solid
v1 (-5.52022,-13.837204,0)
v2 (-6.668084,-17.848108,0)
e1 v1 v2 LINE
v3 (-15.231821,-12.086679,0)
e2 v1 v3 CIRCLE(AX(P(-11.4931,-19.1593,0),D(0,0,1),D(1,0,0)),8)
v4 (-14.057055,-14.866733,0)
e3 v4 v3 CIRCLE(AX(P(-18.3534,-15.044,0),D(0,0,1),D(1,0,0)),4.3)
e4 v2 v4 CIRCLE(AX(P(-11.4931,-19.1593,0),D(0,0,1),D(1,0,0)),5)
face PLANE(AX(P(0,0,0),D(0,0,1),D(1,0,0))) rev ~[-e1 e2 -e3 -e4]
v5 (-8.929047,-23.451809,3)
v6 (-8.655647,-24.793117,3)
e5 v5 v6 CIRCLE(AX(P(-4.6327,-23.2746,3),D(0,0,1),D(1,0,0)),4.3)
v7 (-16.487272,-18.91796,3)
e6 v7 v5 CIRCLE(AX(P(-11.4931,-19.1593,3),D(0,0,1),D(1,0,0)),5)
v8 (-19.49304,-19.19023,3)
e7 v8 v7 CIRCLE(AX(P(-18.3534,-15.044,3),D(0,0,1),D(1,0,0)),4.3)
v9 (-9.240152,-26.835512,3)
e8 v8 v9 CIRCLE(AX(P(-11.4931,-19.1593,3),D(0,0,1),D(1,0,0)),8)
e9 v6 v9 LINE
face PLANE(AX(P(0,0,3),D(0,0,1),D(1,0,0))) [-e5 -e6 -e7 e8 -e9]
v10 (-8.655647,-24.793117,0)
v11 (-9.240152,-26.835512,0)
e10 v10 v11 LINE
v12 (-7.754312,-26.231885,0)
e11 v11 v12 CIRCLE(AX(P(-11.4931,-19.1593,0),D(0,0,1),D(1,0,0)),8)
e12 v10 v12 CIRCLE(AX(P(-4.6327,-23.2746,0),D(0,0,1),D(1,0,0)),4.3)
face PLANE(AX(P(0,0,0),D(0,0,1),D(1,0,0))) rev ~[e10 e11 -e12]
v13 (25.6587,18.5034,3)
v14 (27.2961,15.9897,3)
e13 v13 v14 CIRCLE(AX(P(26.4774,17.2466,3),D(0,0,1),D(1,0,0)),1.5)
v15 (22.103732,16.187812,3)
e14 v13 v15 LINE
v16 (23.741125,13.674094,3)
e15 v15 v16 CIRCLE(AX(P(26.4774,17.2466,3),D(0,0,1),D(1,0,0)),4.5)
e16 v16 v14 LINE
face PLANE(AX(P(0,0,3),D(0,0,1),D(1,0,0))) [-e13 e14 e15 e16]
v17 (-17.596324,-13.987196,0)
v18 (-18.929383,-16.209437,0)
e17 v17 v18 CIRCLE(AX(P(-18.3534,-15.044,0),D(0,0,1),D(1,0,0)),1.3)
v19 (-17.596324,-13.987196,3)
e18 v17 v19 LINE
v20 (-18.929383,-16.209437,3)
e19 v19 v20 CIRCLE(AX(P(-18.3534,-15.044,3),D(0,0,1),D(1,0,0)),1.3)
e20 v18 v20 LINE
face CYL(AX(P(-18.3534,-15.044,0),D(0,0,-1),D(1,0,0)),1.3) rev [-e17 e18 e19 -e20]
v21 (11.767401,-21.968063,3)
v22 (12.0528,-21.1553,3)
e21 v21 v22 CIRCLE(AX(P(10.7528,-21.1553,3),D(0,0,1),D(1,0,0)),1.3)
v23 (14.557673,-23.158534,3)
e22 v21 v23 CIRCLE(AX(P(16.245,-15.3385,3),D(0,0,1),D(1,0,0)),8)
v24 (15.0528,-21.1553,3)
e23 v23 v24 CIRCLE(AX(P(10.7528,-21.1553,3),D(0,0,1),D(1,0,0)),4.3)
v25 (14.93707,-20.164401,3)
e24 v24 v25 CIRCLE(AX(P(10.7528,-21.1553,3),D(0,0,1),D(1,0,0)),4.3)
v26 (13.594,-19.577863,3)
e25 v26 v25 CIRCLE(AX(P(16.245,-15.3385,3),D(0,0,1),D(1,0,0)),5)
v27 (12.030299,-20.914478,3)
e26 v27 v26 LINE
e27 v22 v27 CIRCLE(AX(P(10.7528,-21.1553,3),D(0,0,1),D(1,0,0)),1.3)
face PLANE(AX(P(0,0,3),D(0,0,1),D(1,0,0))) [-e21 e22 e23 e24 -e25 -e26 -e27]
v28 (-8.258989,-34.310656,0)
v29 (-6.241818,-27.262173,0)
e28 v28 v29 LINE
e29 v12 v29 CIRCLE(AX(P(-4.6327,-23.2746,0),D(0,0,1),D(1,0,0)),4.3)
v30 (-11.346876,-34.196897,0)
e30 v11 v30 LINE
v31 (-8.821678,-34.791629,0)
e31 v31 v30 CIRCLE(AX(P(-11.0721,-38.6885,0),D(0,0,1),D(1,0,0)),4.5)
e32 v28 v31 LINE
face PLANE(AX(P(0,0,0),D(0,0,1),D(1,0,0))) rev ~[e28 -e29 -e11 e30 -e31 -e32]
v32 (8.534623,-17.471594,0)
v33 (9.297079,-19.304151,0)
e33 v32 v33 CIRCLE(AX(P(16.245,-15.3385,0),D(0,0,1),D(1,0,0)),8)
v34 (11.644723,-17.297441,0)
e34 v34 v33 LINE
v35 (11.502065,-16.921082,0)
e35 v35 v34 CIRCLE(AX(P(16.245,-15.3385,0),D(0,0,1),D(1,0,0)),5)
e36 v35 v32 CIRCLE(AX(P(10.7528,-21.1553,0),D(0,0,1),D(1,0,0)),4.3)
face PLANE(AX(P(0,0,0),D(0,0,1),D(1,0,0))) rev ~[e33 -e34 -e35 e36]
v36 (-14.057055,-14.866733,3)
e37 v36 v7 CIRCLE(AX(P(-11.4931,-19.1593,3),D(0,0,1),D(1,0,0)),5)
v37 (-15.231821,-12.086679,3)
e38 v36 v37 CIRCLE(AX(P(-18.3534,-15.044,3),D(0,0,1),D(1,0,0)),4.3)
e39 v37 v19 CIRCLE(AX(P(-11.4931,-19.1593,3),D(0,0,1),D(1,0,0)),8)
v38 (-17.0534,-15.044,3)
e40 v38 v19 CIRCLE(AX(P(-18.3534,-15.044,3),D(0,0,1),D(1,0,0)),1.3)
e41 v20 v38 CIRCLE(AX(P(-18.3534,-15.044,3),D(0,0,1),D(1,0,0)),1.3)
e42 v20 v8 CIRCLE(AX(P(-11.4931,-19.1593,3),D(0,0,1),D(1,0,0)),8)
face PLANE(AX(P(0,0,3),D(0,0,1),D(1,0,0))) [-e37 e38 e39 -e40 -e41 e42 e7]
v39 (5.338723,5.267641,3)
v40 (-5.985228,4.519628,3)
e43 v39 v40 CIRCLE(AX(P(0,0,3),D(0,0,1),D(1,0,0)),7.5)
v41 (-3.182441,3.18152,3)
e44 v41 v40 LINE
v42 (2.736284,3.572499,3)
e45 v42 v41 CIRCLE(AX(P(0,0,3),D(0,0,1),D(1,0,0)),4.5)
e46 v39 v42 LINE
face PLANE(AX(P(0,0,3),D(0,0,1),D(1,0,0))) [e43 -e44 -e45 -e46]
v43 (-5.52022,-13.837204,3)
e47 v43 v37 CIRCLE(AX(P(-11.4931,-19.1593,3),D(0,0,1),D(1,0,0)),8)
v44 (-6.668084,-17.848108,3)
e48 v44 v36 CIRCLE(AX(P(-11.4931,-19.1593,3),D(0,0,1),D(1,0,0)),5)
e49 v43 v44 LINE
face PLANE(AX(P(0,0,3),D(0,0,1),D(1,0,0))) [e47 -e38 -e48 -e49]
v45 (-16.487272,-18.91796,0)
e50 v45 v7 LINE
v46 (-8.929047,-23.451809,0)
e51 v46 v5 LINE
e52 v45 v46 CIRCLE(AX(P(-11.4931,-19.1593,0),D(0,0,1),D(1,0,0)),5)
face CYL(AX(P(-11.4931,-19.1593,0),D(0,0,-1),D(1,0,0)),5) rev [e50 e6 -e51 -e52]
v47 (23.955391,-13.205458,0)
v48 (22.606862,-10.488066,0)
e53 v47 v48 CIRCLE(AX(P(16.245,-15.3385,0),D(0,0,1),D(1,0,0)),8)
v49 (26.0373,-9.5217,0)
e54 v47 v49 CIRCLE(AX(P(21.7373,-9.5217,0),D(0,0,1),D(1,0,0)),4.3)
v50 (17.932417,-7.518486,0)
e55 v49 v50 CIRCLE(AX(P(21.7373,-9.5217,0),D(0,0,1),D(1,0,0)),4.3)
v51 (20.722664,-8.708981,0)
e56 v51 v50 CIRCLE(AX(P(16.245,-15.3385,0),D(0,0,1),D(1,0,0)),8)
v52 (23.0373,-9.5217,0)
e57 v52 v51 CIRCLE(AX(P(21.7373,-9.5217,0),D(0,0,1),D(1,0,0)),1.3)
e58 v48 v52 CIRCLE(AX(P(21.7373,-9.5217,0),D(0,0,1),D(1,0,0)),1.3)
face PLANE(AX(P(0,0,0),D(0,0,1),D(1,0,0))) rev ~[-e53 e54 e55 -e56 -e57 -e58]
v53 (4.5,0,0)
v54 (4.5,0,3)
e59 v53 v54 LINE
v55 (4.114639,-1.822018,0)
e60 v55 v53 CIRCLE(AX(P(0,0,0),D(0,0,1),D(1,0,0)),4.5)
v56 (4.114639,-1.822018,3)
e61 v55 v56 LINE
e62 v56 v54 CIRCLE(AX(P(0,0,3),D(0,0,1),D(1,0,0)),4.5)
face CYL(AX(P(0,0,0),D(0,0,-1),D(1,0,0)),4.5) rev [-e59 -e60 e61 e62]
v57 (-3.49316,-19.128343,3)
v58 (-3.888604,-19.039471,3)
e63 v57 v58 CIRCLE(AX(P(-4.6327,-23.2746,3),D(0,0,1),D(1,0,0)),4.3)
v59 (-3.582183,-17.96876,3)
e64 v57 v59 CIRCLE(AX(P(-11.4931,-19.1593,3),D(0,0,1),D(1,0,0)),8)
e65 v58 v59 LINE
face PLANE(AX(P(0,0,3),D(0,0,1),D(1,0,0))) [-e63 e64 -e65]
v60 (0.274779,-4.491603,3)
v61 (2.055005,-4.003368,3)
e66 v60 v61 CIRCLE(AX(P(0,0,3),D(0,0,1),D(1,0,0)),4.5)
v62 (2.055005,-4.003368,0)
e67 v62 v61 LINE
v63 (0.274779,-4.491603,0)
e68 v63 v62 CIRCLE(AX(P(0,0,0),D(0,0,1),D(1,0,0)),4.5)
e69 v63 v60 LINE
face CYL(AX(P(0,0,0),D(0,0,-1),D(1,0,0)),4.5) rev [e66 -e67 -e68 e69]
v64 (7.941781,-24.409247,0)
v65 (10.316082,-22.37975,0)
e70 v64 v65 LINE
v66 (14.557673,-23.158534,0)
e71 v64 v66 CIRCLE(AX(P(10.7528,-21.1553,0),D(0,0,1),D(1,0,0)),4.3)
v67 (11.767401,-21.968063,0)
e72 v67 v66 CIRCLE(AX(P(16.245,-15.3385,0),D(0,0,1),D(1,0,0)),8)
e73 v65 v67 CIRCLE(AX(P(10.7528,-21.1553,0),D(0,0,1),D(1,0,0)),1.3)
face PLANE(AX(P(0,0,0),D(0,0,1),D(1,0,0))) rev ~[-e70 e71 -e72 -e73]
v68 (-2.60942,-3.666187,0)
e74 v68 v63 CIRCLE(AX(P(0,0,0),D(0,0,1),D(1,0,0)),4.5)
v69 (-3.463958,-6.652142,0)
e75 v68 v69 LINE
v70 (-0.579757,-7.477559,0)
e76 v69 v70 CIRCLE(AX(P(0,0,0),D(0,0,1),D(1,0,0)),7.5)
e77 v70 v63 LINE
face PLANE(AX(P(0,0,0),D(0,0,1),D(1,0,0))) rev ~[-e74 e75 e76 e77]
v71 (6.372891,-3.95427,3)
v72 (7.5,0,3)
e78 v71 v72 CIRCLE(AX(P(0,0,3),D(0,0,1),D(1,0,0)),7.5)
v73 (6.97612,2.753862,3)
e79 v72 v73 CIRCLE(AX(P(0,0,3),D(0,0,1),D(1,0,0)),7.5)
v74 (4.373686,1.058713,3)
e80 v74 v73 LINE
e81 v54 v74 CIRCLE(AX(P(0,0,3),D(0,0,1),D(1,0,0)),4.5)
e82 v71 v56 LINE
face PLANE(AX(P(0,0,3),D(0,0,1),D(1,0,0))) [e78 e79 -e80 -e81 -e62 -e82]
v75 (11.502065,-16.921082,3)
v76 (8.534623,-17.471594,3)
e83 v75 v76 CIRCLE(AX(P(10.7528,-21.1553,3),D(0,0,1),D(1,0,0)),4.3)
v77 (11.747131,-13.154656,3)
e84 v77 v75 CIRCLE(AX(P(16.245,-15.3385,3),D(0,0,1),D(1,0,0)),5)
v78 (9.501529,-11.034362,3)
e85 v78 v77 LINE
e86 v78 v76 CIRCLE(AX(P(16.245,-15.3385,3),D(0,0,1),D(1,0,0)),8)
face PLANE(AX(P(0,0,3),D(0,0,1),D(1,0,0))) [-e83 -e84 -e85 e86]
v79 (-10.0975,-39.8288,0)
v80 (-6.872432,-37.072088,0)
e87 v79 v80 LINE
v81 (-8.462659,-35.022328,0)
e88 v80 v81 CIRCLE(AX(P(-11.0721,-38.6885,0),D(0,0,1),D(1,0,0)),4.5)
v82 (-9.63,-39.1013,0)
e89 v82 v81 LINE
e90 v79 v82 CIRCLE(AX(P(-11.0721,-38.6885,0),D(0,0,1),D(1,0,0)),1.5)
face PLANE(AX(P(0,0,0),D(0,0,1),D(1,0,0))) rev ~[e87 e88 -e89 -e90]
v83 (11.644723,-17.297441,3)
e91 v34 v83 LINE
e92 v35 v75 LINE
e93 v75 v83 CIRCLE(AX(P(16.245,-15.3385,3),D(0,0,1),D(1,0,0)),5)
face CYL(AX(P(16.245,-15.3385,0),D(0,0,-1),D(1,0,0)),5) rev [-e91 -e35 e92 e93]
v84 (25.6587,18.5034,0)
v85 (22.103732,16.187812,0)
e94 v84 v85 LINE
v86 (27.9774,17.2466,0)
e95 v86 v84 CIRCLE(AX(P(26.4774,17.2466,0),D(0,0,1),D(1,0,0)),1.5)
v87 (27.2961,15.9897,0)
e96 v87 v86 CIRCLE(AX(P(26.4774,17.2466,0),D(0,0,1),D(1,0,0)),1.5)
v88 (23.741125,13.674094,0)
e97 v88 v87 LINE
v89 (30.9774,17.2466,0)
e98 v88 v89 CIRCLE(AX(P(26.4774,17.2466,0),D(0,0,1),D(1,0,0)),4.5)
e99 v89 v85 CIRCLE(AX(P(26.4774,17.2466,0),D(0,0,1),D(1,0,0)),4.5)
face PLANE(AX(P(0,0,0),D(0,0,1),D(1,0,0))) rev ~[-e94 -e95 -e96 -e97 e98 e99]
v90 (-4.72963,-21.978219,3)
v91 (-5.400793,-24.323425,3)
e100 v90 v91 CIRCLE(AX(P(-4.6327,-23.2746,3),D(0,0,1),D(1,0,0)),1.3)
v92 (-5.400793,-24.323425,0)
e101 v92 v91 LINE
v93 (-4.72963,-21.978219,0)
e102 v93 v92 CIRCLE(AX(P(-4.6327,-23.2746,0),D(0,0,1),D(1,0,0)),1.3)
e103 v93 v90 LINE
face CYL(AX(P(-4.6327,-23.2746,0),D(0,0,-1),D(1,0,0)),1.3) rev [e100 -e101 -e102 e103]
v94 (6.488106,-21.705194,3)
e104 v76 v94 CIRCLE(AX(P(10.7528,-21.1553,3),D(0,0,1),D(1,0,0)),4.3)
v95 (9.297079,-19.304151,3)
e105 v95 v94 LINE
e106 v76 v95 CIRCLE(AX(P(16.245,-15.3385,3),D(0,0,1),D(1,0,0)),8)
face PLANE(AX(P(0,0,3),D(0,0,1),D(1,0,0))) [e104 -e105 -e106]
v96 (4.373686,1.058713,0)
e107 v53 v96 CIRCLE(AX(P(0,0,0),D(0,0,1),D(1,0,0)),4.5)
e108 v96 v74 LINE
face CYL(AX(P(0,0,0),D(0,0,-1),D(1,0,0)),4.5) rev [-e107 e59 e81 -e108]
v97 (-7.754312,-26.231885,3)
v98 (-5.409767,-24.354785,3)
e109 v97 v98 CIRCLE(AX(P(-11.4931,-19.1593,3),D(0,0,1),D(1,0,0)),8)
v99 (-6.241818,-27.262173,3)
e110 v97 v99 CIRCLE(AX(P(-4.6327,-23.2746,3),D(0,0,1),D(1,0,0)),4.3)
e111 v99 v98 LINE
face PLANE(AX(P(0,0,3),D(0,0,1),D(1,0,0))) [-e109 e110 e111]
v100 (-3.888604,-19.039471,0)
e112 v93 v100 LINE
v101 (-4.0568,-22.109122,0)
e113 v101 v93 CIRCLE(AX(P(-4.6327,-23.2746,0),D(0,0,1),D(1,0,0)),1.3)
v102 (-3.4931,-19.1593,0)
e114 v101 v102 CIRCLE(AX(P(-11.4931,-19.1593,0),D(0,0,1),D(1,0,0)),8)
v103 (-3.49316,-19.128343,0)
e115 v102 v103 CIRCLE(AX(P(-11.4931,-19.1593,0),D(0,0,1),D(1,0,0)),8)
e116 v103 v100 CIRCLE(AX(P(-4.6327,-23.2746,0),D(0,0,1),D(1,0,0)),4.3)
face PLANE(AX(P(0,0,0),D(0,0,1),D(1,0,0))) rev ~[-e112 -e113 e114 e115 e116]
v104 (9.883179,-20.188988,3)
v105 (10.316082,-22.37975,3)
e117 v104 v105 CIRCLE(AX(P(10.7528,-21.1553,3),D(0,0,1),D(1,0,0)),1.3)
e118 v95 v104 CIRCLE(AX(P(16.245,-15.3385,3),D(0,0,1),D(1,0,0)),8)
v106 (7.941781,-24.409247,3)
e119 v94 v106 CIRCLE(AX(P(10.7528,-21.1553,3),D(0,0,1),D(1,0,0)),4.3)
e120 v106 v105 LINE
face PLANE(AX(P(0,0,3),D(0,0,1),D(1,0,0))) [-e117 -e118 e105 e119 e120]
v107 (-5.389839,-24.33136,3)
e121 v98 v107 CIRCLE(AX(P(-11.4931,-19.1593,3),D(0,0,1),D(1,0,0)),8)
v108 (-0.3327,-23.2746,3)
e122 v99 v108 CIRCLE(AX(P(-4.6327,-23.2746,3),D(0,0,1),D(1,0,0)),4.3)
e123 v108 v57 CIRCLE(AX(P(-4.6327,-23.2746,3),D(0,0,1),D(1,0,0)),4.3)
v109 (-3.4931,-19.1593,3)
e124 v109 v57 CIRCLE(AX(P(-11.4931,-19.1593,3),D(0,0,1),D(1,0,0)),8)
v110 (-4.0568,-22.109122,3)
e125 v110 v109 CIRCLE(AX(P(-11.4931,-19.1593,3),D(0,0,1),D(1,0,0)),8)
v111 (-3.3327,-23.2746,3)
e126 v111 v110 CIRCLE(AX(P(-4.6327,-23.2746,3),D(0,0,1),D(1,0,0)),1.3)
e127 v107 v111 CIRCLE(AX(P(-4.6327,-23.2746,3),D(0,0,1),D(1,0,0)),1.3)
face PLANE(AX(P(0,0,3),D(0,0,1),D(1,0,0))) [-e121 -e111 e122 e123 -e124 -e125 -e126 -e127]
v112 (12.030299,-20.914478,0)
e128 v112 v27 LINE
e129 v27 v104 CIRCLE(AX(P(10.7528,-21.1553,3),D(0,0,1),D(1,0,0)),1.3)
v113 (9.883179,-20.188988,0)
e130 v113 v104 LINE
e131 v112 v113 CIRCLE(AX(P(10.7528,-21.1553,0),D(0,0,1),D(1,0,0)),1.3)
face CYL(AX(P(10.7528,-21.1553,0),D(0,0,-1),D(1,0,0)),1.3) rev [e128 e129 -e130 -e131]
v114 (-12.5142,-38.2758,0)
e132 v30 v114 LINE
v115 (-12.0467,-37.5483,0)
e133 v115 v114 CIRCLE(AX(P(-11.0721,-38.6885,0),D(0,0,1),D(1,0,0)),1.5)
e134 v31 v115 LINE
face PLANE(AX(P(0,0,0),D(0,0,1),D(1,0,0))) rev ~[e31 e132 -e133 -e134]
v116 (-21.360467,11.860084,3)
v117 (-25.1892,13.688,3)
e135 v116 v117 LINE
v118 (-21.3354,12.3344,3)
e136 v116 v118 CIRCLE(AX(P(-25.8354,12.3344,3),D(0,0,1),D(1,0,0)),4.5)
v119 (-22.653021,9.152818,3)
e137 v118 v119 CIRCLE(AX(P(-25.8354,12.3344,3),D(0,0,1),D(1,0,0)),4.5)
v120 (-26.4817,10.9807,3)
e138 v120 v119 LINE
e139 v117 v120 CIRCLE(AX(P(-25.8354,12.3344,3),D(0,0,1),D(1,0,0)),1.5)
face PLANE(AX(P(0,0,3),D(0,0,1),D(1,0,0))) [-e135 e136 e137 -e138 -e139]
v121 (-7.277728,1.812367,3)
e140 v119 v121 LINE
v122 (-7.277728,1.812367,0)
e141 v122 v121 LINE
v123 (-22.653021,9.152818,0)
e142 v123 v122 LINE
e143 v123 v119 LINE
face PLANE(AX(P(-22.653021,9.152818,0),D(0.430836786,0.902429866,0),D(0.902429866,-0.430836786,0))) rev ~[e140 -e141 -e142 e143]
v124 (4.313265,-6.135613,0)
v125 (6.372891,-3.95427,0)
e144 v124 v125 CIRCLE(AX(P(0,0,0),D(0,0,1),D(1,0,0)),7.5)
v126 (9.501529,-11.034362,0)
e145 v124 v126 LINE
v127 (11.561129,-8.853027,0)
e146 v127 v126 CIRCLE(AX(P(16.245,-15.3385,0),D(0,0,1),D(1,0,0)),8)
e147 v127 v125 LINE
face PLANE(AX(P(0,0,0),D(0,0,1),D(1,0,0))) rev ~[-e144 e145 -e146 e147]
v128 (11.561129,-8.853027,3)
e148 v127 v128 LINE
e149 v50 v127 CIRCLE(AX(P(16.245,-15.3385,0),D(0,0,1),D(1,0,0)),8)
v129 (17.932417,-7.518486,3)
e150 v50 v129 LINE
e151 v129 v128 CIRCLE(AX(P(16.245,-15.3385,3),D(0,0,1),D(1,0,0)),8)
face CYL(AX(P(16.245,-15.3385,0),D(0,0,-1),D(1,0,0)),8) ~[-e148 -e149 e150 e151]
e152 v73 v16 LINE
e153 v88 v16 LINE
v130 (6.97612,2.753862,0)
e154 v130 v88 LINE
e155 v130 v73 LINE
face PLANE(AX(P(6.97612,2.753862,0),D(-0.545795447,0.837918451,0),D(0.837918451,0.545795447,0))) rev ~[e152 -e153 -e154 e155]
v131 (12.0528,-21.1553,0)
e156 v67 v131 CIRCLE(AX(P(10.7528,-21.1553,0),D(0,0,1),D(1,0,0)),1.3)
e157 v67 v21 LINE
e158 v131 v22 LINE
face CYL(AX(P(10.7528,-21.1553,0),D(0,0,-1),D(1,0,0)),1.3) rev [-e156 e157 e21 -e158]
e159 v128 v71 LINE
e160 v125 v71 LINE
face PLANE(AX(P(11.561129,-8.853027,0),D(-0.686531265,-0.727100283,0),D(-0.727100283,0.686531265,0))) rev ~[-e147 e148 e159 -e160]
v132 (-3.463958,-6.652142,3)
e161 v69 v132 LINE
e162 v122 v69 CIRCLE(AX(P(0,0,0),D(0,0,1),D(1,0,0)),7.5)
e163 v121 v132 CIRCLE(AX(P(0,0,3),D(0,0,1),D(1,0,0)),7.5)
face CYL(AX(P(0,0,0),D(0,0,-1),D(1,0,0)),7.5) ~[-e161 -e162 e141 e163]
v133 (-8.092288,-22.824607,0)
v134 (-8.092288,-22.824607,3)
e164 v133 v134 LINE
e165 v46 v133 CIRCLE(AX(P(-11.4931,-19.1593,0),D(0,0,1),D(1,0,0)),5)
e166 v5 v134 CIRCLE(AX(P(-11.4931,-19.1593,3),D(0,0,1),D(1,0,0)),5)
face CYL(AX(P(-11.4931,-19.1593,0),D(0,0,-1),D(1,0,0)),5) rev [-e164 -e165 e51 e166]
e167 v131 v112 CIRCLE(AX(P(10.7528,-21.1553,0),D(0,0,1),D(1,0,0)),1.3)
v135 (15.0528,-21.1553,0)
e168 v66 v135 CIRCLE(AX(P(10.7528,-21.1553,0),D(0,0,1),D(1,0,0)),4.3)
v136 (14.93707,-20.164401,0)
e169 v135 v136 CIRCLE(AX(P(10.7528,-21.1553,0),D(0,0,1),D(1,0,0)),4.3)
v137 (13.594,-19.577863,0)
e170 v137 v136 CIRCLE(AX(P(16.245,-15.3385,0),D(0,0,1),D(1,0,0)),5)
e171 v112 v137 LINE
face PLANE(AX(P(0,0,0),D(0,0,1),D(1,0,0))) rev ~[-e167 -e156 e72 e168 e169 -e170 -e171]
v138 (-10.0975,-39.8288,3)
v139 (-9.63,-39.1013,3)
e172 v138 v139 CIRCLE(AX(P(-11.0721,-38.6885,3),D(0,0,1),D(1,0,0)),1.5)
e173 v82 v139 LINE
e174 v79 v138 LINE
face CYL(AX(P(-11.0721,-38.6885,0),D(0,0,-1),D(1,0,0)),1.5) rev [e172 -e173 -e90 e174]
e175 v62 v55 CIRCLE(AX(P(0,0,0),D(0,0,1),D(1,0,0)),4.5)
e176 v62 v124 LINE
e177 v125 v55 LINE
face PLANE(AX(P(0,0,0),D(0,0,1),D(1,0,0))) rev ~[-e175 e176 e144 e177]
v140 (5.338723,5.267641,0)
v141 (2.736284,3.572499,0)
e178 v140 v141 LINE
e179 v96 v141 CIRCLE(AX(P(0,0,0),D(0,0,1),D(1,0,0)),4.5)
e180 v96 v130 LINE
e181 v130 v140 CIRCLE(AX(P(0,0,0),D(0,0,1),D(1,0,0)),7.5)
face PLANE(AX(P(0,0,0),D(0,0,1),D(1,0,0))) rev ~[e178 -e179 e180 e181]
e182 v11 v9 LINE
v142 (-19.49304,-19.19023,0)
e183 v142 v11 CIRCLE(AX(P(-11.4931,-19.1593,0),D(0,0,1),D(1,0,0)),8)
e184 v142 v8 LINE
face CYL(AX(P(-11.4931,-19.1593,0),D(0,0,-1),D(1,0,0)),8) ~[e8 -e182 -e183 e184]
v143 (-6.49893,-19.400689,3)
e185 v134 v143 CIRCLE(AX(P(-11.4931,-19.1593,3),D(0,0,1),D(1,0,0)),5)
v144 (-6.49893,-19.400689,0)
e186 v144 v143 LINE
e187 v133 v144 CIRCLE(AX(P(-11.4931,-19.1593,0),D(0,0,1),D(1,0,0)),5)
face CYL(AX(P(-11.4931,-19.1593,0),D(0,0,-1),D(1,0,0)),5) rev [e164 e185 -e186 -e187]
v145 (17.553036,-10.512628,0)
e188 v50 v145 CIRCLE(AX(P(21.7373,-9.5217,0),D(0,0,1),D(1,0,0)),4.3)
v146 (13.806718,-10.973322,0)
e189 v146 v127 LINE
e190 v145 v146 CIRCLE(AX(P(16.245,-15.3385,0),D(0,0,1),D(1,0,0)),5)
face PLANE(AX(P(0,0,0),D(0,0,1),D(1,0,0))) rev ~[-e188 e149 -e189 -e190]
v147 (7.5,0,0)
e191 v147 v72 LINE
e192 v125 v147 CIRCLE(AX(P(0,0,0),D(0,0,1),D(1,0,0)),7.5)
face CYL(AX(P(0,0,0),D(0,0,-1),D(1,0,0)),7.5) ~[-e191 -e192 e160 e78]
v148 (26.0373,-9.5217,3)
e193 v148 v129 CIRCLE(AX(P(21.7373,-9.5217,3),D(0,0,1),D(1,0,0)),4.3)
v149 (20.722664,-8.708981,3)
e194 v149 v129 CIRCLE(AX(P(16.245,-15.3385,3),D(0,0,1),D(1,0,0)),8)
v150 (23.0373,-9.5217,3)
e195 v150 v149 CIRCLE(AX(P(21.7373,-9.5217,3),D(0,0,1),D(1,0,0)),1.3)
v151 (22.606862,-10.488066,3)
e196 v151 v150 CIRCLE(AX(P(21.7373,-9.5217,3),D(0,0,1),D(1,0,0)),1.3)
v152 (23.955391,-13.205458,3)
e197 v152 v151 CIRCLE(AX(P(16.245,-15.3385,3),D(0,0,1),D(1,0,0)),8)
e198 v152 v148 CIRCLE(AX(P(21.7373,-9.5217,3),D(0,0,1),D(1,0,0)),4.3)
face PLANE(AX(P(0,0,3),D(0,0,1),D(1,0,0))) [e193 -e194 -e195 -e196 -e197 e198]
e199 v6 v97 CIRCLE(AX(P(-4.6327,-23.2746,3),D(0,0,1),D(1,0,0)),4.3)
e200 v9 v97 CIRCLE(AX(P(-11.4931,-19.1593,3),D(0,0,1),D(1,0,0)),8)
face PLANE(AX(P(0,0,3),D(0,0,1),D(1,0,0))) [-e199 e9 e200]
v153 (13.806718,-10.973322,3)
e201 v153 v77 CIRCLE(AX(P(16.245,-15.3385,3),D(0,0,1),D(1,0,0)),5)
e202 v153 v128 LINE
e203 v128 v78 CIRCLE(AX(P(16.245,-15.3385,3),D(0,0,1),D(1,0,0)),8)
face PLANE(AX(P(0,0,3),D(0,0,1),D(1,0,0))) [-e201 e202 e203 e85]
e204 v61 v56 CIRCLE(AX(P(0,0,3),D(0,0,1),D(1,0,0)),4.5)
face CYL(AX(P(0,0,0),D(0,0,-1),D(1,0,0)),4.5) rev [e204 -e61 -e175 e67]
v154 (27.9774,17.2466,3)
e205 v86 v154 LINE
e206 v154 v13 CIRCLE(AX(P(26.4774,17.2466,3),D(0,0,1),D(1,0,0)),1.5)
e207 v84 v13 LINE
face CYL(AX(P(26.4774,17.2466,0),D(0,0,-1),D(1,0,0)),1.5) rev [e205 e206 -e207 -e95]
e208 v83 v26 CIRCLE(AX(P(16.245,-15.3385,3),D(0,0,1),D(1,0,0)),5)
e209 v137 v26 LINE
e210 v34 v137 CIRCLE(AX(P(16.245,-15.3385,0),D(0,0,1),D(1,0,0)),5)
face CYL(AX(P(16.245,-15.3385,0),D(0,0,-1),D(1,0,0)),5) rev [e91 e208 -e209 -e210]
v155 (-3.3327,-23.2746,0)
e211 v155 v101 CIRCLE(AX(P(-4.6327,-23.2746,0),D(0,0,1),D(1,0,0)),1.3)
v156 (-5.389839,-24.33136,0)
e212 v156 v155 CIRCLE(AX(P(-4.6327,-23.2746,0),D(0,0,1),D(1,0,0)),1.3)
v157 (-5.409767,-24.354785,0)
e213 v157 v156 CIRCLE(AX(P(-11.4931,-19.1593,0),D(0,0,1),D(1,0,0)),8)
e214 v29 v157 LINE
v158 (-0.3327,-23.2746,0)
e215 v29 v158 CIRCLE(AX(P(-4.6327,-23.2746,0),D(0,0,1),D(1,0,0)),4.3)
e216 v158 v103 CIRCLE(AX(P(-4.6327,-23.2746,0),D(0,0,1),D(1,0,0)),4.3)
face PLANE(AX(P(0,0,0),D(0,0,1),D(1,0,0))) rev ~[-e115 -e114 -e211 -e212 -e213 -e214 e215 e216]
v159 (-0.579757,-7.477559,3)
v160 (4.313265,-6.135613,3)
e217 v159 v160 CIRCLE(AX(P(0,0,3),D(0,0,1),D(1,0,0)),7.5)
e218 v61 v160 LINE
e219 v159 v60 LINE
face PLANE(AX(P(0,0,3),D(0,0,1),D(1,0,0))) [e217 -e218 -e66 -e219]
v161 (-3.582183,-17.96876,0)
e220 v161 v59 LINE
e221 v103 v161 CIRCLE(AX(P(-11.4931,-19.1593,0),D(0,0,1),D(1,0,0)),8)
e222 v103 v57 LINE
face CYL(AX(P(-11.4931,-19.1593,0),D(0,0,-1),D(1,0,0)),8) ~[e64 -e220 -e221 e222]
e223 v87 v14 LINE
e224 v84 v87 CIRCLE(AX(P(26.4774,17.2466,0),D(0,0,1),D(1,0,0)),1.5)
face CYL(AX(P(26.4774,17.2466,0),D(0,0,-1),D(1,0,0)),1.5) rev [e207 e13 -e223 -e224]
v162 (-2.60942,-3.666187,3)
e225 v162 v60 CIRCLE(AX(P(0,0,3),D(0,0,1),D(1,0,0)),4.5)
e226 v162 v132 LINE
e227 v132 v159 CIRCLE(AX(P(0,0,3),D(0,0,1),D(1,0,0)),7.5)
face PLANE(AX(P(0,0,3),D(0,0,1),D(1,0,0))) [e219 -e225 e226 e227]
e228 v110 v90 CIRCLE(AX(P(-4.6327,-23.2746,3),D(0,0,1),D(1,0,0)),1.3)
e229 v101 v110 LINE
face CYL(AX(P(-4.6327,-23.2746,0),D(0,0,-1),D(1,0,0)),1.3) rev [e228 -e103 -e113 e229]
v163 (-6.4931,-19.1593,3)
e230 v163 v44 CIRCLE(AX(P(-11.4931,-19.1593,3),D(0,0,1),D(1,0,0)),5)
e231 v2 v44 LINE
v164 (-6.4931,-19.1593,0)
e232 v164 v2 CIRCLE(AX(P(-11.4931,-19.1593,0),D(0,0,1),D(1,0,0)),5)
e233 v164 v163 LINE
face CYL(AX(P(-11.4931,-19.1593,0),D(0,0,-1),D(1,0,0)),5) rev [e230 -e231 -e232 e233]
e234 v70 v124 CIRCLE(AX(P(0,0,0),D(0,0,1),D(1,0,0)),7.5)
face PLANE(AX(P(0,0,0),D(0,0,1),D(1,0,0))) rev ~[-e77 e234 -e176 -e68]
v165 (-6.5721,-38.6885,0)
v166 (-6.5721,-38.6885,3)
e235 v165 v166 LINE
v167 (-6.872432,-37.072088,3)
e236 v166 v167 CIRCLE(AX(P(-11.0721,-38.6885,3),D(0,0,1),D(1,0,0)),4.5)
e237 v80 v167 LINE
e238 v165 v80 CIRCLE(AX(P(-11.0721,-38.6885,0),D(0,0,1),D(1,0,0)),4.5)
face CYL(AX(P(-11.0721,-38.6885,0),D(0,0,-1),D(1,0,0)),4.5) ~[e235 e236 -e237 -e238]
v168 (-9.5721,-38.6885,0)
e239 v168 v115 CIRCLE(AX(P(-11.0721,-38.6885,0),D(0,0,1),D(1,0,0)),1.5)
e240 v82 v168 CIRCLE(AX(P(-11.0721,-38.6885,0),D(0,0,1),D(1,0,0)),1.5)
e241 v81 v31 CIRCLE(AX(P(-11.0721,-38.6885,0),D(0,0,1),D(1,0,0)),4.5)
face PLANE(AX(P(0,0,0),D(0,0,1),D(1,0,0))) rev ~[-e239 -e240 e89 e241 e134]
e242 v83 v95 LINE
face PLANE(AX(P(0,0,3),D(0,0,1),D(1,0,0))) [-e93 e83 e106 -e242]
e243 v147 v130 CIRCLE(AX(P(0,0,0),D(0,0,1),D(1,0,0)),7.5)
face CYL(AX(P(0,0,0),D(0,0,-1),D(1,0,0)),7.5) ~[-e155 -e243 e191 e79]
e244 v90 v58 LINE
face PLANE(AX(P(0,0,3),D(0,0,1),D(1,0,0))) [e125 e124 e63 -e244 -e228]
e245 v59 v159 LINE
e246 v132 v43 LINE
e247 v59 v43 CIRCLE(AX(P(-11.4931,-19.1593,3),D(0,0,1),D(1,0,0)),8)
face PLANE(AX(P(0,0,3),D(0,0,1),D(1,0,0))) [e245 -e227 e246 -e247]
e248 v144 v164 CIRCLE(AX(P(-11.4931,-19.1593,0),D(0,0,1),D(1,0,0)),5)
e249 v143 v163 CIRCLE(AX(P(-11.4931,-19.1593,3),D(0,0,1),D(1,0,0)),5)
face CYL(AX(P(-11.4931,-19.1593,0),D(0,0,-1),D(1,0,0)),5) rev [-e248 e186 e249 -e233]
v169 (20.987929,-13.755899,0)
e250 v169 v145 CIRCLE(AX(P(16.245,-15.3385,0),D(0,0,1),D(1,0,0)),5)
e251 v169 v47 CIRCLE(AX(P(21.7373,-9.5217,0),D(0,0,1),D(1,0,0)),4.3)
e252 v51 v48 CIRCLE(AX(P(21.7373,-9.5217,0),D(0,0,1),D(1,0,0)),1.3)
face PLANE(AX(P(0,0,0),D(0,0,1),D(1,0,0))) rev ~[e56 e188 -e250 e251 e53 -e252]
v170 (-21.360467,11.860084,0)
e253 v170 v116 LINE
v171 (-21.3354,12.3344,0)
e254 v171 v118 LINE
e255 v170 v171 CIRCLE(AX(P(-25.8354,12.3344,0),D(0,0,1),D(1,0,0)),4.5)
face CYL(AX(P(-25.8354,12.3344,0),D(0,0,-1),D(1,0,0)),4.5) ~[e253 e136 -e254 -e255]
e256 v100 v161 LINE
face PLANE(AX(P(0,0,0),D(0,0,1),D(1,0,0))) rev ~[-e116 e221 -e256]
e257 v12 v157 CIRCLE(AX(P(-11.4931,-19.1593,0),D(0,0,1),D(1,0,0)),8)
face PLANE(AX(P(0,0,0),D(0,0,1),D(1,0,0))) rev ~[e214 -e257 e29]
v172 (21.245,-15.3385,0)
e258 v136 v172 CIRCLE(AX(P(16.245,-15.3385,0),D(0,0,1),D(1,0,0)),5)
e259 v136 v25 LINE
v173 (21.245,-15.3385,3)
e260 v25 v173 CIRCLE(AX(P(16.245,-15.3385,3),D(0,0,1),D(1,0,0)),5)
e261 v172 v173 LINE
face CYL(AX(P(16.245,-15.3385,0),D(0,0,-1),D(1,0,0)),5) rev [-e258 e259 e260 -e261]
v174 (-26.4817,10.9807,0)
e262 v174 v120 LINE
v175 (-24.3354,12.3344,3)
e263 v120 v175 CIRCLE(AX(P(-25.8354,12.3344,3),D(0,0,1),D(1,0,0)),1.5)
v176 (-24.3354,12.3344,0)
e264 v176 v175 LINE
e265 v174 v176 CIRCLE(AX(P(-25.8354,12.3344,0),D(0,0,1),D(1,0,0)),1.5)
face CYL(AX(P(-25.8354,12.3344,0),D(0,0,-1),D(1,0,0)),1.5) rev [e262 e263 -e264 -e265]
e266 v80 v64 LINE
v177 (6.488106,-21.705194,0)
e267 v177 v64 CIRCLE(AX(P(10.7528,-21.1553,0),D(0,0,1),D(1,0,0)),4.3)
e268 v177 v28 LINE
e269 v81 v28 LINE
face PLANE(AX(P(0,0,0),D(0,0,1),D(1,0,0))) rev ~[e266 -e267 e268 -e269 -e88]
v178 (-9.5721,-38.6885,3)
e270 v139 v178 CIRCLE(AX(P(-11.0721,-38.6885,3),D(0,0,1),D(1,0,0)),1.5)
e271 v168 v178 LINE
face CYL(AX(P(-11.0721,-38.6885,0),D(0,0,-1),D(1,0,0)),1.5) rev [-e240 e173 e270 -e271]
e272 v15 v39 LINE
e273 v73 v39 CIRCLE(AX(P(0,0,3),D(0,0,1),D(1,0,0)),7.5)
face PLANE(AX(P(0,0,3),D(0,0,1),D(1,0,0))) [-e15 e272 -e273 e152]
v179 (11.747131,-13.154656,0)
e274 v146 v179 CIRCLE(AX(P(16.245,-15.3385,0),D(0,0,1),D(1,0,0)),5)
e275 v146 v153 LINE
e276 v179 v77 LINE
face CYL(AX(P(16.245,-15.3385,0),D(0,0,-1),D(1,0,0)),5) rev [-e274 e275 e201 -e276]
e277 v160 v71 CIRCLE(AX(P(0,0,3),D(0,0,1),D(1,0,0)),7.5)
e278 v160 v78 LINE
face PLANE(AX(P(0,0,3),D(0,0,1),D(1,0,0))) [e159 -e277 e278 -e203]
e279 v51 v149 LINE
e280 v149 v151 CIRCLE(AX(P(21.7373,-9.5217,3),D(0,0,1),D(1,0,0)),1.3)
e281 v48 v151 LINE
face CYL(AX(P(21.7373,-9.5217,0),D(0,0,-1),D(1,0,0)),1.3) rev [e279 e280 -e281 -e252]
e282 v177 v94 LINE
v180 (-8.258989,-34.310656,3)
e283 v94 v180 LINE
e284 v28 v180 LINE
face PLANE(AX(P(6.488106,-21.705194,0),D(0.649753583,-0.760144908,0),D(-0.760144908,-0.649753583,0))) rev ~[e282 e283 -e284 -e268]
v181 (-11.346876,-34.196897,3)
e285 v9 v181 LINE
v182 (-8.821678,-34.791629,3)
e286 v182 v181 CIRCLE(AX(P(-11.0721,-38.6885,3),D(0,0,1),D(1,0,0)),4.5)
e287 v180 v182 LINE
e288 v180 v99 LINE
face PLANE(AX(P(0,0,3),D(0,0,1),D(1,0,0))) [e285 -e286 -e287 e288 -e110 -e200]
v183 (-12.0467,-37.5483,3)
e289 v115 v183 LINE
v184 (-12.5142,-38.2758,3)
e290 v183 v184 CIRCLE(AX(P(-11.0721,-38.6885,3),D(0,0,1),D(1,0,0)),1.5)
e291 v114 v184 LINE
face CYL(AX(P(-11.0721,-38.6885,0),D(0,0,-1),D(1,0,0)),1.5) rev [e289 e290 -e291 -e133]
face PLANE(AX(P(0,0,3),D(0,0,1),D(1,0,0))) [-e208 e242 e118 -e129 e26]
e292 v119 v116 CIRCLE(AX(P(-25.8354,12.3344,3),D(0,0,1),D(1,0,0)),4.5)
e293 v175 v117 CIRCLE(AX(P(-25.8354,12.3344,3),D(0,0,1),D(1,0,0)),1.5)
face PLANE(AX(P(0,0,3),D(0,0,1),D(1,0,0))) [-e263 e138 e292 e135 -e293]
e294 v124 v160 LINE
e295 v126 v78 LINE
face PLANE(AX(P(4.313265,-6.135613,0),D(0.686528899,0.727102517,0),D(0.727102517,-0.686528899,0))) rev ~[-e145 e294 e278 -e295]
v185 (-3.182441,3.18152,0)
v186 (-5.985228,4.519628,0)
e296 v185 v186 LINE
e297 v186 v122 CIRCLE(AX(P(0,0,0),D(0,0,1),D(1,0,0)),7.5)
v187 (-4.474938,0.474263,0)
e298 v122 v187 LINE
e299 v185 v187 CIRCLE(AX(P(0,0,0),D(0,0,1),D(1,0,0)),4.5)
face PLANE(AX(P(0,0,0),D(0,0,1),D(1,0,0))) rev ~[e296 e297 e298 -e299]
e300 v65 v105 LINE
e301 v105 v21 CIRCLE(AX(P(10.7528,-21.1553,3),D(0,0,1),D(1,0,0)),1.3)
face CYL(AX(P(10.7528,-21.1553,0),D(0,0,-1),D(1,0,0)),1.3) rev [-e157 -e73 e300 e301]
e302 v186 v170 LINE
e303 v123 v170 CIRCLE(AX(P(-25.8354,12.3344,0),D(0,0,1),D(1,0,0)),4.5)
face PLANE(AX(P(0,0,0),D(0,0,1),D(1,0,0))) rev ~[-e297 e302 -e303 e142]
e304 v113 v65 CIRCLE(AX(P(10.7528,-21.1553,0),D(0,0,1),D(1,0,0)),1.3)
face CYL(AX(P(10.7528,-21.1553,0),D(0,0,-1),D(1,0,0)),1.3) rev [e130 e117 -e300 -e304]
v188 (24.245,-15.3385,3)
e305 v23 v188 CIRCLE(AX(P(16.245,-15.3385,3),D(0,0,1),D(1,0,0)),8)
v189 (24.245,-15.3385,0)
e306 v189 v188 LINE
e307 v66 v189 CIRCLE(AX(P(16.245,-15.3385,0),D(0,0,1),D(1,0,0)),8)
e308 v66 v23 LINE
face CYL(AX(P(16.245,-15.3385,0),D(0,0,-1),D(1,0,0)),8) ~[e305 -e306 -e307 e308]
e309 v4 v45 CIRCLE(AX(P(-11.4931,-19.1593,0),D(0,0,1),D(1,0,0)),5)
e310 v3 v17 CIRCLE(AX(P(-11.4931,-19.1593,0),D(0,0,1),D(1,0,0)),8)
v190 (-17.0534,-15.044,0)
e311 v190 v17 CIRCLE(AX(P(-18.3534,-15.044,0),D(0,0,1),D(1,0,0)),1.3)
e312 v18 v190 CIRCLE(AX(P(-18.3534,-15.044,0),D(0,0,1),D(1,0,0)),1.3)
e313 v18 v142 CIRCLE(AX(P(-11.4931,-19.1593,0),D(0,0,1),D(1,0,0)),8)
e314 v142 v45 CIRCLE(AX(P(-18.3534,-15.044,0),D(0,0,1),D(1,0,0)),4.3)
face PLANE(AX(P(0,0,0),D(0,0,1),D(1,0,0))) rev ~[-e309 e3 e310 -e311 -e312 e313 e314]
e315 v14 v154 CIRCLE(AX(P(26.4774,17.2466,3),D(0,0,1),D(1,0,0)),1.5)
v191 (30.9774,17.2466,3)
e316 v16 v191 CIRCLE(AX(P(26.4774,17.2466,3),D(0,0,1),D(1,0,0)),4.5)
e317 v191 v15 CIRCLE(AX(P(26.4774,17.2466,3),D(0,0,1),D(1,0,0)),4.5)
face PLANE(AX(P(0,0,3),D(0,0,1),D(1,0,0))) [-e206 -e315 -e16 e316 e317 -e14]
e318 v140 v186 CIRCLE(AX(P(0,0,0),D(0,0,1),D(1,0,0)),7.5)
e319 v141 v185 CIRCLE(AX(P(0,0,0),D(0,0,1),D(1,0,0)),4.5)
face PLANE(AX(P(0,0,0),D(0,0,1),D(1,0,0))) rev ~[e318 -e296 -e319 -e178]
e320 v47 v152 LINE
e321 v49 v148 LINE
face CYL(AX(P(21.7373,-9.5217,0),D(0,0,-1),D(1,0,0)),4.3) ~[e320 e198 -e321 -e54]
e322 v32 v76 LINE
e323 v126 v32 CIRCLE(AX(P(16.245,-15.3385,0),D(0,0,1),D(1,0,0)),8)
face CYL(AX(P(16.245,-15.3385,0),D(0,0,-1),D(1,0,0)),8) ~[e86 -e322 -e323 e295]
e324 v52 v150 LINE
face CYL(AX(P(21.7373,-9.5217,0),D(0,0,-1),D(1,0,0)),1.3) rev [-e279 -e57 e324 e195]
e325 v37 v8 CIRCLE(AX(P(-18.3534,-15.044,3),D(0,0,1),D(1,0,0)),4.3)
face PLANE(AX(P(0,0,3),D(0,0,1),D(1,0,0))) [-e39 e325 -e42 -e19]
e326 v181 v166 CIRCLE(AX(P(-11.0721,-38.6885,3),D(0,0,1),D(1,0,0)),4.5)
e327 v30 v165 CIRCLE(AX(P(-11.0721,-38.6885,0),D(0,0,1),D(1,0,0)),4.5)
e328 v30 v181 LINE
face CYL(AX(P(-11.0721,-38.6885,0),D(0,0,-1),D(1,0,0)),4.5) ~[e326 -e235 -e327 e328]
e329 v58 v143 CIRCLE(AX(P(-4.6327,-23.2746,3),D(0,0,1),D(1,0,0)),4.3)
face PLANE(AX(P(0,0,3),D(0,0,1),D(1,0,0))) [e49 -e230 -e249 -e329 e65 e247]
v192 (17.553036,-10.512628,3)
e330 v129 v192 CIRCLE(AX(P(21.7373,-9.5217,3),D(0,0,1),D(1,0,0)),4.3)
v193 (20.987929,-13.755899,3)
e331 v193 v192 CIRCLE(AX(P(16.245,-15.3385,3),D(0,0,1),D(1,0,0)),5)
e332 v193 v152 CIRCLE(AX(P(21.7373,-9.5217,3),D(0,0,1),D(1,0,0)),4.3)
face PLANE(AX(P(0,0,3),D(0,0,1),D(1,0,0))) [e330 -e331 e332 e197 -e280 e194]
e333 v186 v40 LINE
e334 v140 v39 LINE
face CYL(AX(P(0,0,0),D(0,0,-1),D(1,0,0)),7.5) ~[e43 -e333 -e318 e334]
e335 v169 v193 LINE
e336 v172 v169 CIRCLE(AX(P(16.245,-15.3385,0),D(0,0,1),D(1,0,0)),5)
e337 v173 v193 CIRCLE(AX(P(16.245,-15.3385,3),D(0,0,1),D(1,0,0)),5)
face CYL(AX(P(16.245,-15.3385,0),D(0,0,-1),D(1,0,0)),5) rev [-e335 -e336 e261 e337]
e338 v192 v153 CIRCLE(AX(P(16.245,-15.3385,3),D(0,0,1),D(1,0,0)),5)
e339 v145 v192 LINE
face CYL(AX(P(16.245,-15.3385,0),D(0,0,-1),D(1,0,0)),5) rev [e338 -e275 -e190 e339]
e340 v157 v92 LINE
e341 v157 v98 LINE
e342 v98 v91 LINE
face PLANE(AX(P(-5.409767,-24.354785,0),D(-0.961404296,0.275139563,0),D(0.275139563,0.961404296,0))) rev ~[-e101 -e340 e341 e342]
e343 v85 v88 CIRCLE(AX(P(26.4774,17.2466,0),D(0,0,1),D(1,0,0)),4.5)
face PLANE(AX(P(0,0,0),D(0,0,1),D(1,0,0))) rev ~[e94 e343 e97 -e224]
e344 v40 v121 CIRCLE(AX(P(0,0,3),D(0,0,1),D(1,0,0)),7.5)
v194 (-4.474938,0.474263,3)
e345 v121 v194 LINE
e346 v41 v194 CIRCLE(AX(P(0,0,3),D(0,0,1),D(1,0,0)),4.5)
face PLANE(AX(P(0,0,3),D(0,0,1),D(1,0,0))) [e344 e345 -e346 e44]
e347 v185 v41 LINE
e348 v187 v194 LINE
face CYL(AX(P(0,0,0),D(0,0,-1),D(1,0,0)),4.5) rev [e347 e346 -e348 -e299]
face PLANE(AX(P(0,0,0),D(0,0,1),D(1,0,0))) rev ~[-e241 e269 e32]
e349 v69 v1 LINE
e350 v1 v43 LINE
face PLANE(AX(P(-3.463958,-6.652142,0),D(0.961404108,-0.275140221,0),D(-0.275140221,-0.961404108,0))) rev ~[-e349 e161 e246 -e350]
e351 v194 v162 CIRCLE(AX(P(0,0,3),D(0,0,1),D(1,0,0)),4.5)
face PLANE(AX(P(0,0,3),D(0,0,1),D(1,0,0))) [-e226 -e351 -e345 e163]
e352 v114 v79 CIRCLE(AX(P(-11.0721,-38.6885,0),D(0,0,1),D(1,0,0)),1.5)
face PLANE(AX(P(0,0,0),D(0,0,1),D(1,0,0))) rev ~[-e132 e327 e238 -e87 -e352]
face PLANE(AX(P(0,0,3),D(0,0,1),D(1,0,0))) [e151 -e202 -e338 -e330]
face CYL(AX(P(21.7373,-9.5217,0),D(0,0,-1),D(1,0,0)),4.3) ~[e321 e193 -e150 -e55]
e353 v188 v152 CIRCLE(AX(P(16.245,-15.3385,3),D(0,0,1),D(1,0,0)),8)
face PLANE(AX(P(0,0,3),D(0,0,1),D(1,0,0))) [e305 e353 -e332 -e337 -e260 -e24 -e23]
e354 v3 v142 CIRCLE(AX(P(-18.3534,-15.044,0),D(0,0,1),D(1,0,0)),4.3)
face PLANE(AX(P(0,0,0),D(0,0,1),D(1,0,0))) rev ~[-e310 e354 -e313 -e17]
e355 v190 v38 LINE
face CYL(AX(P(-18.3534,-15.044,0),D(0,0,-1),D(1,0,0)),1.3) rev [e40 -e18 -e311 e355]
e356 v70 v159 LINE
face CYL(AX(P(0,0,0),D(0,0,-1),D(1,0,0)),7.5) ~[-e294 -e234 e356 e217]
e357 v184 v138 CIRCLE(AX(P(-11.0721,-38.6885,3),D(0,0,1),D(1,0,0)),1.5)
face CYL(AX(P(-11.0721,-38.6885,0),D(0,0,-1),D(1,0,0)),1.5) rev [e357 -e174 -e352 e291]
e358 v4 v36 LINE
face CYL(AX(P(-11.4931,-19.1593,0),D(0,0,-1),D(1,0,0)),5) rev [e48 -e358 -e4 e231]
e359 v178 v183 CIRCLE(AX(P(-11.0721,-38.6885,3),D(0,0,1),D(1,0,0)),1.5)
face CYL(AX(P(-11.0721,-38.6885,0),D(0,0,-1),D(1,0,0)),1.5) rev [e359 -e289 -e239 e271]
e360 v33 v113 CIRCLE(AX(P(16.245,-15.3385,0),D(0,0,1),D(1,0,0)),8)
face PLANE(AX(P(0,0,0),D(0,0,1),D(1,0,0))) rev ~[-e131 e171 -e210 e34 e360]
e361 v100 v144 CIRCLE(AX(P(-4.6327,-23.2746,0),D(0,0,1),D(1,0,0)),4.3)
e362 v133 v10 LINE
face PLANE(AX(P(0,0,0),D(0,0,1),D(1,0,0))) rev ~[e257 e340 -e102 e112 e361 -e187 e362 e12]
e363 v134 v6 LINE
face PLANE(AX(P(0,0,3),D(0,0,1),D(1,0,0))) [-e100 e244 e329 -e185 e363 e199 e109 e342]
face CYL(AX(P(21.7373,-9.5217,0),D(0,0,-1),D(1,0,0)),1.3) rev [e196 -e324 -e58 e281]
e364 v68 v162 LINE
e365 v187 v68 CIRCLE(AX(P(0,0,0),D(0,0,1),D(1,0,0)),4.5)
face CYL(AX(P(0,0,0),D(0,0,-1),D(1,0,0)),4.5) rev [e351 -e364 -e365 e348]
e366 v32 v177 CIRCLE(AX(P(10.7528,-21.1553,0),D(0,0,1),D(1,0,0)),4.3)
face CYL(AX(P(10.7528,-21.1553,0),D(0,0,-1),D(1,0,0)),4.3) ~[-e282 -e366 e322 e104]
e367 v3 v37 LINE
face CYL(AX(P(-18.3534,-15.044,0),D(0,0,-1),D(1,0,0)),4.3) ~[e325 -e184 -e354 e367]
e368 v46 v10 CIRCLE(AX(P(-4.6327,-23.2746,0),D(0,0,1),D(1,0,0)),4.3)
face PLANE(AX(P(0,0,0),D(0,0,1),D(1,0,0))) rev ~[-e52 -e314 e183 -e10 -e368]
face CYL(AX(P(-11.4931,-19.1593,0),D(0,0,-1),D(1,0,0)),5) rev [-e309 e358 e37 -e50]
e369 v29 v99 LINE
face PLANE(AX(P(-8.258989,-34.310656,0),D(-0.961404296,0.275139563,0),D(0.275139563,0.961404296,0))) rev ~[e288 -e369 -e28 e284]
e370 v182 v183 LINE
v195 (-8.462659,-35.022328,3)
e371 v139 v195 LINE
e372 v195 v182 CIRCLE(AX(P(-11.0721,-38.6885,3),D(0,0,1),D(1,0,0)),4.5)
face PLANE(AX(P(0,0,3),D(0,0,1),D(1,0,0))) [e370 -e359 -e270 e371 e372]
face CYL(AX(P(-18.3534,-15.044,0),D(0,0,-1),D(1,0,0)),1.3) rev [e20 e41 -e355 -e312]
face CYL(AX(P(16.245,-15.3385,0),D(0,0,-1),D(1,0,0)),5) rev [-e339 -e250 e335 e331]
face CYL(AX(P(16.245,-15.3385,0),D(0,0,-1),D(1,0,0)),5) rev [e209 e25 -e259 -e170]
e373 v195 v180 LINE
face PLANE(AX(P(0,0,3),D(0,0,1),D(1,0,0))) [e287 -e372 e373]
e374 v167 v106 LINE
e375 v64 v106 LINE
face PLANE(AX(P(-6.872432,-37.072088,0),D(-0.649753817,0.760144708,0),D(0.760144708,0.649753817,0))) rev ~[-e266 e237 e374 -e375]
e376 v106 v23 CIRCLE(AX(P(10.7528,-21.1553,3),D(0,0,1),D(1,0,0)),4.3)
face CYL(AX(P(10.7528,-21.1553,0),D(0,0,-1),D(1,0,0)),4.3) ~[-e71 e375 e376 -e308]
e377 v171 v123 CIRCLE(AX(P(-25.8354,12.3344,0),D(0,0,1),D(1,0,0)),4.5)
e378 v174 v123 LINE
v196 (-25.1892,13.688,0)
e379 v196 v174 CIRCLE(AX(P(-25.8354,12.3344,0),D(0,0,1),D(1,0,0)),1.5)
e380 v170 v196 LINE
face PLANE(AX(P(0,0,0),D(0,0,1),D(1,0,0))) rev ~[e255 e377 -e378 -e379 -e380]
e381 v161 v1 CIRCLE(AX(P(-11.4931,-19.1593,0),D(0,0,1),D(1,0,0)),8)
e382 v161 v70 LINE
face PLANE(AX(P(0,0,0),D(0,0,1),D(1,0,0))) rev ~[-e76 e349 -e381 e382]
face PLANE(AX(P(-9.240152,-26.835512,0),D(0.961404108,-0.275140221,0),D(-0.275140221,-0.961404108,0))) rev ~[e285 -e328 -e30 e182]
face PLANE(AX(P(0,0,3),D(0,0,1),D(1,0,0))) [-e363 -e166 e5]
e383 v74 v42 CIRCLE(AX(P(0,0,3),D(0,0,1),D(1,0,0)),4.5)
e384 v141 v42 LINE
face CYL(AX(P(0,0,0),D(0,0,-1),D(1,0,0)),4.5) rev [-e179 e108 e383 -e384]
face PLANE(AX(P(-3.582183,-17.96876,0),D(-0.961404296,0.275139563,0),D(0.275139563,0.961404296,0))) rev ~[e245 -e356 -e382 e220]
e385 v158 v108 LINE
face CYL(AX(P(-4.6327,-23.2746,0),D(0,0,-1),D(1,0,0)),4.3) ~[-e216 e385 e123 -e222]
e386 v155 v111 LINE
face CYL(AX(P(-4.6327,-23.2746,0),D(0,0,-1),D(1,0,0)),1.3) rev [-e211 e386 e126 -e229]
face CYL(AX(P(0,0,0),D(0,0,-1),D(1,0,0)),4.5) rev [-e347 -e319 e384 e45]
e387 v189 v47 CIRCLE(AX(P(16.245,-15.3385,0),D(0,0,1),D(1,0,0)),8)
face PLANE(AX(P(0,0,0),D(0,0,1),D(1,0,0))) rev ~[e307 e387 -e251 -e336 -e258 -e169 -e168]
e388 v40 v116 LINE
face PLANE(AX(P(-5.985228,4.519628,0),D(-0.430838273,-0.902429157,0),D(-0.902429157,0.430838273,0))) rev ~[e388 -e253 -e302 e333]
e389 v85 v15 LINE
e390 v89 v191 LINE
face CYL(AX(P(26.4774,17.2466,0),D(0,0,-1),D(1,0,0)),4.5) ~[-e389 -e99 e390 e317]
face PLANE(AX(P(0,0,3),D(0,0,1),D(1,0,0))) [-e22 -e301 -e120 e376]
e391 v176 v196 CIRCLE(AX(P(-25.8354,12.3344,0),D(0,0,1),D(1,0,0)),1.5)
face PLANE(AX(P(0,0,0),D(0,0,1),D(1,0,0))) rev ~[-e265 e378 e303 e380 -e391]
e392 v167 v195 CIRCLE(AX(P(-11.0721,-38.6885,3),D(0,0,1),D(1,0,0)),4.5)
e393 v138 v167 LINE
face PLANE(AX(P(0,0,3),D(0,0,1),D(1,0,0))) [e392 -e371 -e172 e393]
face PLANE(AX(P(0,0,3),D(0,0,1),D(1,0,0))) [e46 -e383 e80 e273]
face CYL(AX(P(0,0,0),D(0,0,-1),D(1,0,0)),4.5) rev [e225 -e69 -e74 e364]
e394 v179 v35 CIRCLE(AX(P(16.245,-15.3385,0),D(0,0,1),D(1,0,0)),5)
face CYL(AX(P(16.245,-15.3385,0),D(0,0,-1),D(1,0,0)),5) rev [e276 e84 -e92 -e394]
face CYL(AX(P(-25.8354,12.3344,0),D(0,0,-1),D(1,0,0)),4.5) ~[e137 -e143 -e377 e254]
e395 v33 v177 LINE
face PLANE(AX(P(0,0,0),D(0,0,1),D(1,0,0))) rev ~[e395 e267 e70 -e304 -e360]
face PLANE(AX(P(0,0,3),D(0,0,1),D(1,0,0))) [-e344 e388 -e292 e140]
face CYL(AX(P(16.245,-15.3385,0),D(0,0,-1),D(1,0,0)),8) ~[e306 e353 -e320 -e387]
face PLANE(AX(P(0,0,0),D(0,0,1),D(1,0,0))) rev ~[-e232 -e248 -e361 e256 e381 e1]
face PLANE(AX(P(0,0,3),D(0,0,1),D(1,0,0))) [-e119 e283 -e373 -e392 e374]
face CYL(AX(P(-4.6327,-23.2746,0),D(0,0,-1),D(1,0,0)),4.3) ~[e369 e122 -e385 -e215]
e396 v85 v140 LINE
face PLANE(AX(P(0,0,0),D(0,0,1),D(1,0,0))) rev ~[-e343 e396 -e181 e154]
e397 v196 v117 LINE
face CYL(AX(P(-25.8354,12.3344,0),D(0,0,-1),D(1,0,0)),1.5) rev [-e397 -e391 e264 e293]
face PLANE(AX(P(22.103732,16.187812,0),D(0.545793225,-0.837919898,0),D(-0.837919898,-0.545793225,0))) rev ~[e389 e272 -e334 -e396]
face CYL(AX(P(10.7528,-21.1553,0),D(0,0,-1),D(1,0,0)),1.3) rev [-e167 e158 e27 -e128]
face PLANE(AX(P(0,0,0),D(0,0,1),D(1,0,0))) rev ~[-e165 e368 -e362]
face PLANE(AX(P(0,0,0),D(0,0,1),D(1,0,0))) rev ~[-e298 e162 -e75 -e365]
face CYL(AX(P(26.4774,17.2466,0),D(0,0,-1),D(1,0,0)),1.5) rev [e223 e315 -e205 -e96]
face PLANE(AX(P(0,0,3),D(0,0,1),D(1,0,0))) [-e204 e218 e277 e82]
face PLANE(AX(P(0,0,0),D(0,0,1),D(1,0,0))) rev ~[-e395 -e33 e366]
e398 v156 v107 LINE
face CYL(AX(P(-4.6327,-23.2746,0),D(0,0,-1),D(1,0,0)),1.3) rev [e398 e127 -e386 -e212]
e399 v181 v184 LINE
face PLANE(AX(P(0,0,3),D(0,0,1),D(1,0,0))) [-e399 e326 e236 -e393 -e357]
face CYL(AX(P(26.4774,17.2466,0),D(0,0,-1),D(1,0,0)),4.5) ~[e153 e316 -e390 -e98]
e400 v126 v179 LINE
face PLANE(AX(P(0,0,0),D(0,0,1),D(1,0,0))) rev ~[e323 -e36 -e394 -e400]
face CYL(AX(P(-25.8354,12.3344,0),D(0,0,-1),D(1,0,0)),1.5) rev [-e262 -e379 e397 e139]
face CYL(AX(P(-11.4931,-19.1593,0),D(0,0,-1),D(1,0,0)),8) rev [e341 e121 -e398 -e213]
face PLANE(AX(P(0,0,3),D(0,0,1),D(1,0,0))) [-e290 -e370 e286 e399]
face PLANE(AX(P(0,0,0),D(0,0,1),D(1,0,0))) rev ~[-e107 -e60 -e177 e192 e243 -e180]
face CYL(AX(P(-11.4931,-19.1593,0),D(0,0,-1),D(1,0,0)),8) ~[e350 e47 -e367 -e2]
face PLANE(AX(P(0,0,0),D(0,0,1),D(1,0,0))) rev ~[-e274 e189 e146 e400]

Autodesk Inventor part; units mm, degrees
ref_plane "YZ Plane" through (0, 0, 0) normal (1, 0, 0) x (0, 1, 0)
ref_plane "XZ Plane" through (0, 0, 0) normal (0, 1, 0) x (-1, 0, 0)
ref_plane "XY Plane" through (0, 0, 0) normal (0, 0, 1) x (1, 0, 0)
sketch "スケッチ1" plane through (0, 0, 0) normal (0, 0, 1) x (1, 0, 0)
  circle A0 centre (16.245, -15.3385) radius 5
  circle A1 centre (21.7373, -9.5217) radius 1.3
  circle A2 centre (10.7528, -21.1553) radius 1.3
  circle A3 centre (-4.6327, -23.2746) radius 1.3
  circle A4 centre (-11.4931, -19.1593) radius 5
  circle A5 centre (-18.3534, -15.044) radius 1.3
  circle A6 centre (26.4774, 17.2466) radius 1.5
  circle A7 centre (-11.0721, -38.6885) radius 1.5
  circle A8 centre (-25.8354, 12.3344) radius 1.5
  circle A9 centre (-11.4931, -19.1593) radius 8
  circle A10 centre (-4.6327, -23.2746) radius 4.3
  circle A11 centre (10.7528, -21.1553) radius 4.3
  circle A12 centre (16.245, -15.3385) radius 8
  circle A13 centre (21.7373, -9.5217) radius 4.3
  circle A14 centre (26.4774, 17.2466) radius 4.5
  circle A15 centre (-25.8354, 12.3344) radius 4.5
  circle A16 centre (-11.0721, -38.6885) radius 4.5
  circle A17 centre (-18.3534, -15.044) radius 4.3
  circle A18 centre (0, 0) radius 4.5
  circle A19 centre (0, 0) radius 7.5
  line L0 (-25.8354, 12.3344) -> (0, 0) construction
  line L1 (-26.4817, 10.9807) -> (-0.6463, -1.3536)
  line L2 (0.6463, 1.3536) -> (-25.1892, 13.688)
  arc A20 (-25.1892, 13.688) -> (-26.4817, 10.9807) centre (-25.8354, 12.3344) ccw
  arc A21 (-0.6463, -1.3536) -> (0.6463, 1.3536) centre (0, 0) ccw
  line L3 (26.4774, 17.2466) -> (0, 0) construction
  line L4 (25.6587, 18.5034) -> (-0.8187, 1.2569)
  line L5 (0.8187, -1.2569) -> (27.2961, 15.9897)
  arc A22 (27.2961, 15.9897) -> (25.6587, 18.5034) centre (26.4774, 17.2466) ccw
  arc A23 (-0.8187, 1.2569) -> (0.8187, -1.2569) centre (0, 0) ccw
  line L6 (0, 0) -> (-11.0721, -38.6885) construction
  line L7 (-1.4421, 0.4127) -> (-12.5142, -38.2758)
  line L8 (-9.63, -39.1013) -> (1.4421, -0.4127)
  arc A24 (1.4421, -0.4127) -> (-1.4421, 0.4127) centre (0, 0) ccw
  arc A25 (-12.5142, -38.2758) -> (-9.63, -39.1013) centre (-11.0721, -38.6885) ccw
  line L9 (0, 0) -> (16.245, -15.3385) construction
  line L10 (-1.0298, -1.0907) -> (15.2152, -16.4292)
  line L11 (17.2748, -14.2479) -> (1.0298, 1.0907)
  arc A26 (1.0298, 1.0907) -> (-1.0298, -1.0907) centre (0, 0) ccw
  arc A27 (15.2152, -16.4292) -> (17.2748, -14.2479) centre (16.245, -15.3385) ccw
  line L12 (16.245, -15.3385) -> (-11.0721, -38.6885) construction
  line L13 (15.2704, -14.1983) -> (-12.0467, -37.5483)
  line L14 (-10.0975, -39.8288) -> (17.2197, -16.4787)
  arc A28 (17.2197, -16.4787) -> (15.2704, -14.1983) centre (16.245, -15.3385) ccw
  arc A29 (-12.0467, -37.5483) -> (-10.0975, -39.8288) centre (-11.0721, -38.6885) ccw
  point P0 (-12.9177, 6.1672)
  point P1 (13.2387, 8.6233)
  point P2 (-5.5361, -19.3443)
  point P3 (8.1225, -7.6693)
  point P4 (2.5865, -27.0135)
  point P5 (17.9324, -7.5185)
  point P6 (11.5612, -8.853)
  point P7 (6.3729, -3.9543)
  point P8 (6.9761, 2.7539)
  point P9 (23.7411, 13.6741)
  point P10 (22.1037, 16.1878)
  point P11 (5.3387, 5.2676)
  point P12 (-5.9852, 4.5196)
  point P13 (-21.3605, 11.8601)
  point P14 (-22.653, 9.1528)
  point P15 (-7.2777, 1.8124)
  point P16 (-3.464, -6.6521)
  point P17 (-5.5202, -13.8372)
  point P18 (-15.2318, -12.0867)
  point P19 (-19.493, -19.1903)
  point P20 (-9.2402, -26.8356)
  point P21 (-11.3469, -34.1969)
  point P22 (-6.8724, -37.0721)
  point P23 (7.9418, -24.4093)
  point P24 (14.5577, -23.1585)
  point P25 (23.9554, -13.2054)
  point P26 (-5.4098, -24.3549)
  point P27 (-5.4008, -24.3235)
  point P28 (-5.3898, -24.3314)
  point P29 (-3.5822, -17.9687)
  point P30 (-0.5798, -7.4776)
  point P31 (4.3133, -6.1356)
  point P32 (9.5016, -11.0343)
  point P33 (8.5347, -17.4716)
  point P34 (6.4881, -21.7052)
  point P35 (-8.259, -34.3107)
  point P36 (-6.2418, -27.2622)
  point P37 (-3.4931, -19.1284)
  dimension "d0" = 3
  dimension "d1" = 3
  dimension "d2" = 3
  dimension "d3" = 3
  dimension "d4" = 3
  dimension "d5" = 3
  dimension "d6" = 3
  dimension "d7" = 3
  dimension "d8" = 3
  dimension "d9" = 9
  dimension "d10" = 3
  dimension "d11" = 3
  dimension "d12" = 3
  dimension "d13" = 3
  dimension "d14" = 3
  dimension "d15" = 3
extrude "押し出し1" add sketch "スケッチ1" along normal blind 3 contours A0 A13 A12 A11 | A0 A13 A12 A1 | A11 A12 A2 L14 A0 | A0 L11 A12 A13 | A12 A1 A13 | L14 A2 A12 L13 A0 | A0 L10 A12 L11 | L13 A12 A11 A0 | A11 L14 A2 A12 | A0 A11 A12 L10 | A12 L10 A19 L11 | L13 A11 A12 | A12 A2 L14 A11 L13 | L14 A16 L8 L13 A11 | L11 A18 L5 A19 | A19 L10 A18 L11 | L14 A7 L8 A16 | A16 L7 A7 L14 | A19 L8 A18 L10 | L13 A16 L7 A9 A10 L8 | L8 A16 L13 | L8 A7 L13 A16 | L8 A9 L7 A19 | A19 L7 A18 L8 | L5 A18 L4 A19 | A19 L4 A14 L5 | L8 A9 A3 A10 | A10 A9 L8 | L13 A7 L7 A16 | A19 L1 A18 L7 | L8 A10 A4 L7 A9 | A9 A10 L8 | L4 A18 L2 A19 | L5 A6 L4 A14 | A14 L4 A6 L5 | A10 L7 A4 L8 A3 A9 | A9 L7 A10 | A9 A17 A4 A10 L7 | L1 A15 L2 A19 | A19 L2 A18 L1 | L7 A4 A17 A9 | A9 A3 L8 A10 | A10 A4 L7 | A17 A9 A5 | A9 A5 A17 A4 | L1 A8 L2 A15 | A15 L2 A8 L1 picked at (-8.3681, -23.5569)
properties part number "モーターマウントっぽい"
